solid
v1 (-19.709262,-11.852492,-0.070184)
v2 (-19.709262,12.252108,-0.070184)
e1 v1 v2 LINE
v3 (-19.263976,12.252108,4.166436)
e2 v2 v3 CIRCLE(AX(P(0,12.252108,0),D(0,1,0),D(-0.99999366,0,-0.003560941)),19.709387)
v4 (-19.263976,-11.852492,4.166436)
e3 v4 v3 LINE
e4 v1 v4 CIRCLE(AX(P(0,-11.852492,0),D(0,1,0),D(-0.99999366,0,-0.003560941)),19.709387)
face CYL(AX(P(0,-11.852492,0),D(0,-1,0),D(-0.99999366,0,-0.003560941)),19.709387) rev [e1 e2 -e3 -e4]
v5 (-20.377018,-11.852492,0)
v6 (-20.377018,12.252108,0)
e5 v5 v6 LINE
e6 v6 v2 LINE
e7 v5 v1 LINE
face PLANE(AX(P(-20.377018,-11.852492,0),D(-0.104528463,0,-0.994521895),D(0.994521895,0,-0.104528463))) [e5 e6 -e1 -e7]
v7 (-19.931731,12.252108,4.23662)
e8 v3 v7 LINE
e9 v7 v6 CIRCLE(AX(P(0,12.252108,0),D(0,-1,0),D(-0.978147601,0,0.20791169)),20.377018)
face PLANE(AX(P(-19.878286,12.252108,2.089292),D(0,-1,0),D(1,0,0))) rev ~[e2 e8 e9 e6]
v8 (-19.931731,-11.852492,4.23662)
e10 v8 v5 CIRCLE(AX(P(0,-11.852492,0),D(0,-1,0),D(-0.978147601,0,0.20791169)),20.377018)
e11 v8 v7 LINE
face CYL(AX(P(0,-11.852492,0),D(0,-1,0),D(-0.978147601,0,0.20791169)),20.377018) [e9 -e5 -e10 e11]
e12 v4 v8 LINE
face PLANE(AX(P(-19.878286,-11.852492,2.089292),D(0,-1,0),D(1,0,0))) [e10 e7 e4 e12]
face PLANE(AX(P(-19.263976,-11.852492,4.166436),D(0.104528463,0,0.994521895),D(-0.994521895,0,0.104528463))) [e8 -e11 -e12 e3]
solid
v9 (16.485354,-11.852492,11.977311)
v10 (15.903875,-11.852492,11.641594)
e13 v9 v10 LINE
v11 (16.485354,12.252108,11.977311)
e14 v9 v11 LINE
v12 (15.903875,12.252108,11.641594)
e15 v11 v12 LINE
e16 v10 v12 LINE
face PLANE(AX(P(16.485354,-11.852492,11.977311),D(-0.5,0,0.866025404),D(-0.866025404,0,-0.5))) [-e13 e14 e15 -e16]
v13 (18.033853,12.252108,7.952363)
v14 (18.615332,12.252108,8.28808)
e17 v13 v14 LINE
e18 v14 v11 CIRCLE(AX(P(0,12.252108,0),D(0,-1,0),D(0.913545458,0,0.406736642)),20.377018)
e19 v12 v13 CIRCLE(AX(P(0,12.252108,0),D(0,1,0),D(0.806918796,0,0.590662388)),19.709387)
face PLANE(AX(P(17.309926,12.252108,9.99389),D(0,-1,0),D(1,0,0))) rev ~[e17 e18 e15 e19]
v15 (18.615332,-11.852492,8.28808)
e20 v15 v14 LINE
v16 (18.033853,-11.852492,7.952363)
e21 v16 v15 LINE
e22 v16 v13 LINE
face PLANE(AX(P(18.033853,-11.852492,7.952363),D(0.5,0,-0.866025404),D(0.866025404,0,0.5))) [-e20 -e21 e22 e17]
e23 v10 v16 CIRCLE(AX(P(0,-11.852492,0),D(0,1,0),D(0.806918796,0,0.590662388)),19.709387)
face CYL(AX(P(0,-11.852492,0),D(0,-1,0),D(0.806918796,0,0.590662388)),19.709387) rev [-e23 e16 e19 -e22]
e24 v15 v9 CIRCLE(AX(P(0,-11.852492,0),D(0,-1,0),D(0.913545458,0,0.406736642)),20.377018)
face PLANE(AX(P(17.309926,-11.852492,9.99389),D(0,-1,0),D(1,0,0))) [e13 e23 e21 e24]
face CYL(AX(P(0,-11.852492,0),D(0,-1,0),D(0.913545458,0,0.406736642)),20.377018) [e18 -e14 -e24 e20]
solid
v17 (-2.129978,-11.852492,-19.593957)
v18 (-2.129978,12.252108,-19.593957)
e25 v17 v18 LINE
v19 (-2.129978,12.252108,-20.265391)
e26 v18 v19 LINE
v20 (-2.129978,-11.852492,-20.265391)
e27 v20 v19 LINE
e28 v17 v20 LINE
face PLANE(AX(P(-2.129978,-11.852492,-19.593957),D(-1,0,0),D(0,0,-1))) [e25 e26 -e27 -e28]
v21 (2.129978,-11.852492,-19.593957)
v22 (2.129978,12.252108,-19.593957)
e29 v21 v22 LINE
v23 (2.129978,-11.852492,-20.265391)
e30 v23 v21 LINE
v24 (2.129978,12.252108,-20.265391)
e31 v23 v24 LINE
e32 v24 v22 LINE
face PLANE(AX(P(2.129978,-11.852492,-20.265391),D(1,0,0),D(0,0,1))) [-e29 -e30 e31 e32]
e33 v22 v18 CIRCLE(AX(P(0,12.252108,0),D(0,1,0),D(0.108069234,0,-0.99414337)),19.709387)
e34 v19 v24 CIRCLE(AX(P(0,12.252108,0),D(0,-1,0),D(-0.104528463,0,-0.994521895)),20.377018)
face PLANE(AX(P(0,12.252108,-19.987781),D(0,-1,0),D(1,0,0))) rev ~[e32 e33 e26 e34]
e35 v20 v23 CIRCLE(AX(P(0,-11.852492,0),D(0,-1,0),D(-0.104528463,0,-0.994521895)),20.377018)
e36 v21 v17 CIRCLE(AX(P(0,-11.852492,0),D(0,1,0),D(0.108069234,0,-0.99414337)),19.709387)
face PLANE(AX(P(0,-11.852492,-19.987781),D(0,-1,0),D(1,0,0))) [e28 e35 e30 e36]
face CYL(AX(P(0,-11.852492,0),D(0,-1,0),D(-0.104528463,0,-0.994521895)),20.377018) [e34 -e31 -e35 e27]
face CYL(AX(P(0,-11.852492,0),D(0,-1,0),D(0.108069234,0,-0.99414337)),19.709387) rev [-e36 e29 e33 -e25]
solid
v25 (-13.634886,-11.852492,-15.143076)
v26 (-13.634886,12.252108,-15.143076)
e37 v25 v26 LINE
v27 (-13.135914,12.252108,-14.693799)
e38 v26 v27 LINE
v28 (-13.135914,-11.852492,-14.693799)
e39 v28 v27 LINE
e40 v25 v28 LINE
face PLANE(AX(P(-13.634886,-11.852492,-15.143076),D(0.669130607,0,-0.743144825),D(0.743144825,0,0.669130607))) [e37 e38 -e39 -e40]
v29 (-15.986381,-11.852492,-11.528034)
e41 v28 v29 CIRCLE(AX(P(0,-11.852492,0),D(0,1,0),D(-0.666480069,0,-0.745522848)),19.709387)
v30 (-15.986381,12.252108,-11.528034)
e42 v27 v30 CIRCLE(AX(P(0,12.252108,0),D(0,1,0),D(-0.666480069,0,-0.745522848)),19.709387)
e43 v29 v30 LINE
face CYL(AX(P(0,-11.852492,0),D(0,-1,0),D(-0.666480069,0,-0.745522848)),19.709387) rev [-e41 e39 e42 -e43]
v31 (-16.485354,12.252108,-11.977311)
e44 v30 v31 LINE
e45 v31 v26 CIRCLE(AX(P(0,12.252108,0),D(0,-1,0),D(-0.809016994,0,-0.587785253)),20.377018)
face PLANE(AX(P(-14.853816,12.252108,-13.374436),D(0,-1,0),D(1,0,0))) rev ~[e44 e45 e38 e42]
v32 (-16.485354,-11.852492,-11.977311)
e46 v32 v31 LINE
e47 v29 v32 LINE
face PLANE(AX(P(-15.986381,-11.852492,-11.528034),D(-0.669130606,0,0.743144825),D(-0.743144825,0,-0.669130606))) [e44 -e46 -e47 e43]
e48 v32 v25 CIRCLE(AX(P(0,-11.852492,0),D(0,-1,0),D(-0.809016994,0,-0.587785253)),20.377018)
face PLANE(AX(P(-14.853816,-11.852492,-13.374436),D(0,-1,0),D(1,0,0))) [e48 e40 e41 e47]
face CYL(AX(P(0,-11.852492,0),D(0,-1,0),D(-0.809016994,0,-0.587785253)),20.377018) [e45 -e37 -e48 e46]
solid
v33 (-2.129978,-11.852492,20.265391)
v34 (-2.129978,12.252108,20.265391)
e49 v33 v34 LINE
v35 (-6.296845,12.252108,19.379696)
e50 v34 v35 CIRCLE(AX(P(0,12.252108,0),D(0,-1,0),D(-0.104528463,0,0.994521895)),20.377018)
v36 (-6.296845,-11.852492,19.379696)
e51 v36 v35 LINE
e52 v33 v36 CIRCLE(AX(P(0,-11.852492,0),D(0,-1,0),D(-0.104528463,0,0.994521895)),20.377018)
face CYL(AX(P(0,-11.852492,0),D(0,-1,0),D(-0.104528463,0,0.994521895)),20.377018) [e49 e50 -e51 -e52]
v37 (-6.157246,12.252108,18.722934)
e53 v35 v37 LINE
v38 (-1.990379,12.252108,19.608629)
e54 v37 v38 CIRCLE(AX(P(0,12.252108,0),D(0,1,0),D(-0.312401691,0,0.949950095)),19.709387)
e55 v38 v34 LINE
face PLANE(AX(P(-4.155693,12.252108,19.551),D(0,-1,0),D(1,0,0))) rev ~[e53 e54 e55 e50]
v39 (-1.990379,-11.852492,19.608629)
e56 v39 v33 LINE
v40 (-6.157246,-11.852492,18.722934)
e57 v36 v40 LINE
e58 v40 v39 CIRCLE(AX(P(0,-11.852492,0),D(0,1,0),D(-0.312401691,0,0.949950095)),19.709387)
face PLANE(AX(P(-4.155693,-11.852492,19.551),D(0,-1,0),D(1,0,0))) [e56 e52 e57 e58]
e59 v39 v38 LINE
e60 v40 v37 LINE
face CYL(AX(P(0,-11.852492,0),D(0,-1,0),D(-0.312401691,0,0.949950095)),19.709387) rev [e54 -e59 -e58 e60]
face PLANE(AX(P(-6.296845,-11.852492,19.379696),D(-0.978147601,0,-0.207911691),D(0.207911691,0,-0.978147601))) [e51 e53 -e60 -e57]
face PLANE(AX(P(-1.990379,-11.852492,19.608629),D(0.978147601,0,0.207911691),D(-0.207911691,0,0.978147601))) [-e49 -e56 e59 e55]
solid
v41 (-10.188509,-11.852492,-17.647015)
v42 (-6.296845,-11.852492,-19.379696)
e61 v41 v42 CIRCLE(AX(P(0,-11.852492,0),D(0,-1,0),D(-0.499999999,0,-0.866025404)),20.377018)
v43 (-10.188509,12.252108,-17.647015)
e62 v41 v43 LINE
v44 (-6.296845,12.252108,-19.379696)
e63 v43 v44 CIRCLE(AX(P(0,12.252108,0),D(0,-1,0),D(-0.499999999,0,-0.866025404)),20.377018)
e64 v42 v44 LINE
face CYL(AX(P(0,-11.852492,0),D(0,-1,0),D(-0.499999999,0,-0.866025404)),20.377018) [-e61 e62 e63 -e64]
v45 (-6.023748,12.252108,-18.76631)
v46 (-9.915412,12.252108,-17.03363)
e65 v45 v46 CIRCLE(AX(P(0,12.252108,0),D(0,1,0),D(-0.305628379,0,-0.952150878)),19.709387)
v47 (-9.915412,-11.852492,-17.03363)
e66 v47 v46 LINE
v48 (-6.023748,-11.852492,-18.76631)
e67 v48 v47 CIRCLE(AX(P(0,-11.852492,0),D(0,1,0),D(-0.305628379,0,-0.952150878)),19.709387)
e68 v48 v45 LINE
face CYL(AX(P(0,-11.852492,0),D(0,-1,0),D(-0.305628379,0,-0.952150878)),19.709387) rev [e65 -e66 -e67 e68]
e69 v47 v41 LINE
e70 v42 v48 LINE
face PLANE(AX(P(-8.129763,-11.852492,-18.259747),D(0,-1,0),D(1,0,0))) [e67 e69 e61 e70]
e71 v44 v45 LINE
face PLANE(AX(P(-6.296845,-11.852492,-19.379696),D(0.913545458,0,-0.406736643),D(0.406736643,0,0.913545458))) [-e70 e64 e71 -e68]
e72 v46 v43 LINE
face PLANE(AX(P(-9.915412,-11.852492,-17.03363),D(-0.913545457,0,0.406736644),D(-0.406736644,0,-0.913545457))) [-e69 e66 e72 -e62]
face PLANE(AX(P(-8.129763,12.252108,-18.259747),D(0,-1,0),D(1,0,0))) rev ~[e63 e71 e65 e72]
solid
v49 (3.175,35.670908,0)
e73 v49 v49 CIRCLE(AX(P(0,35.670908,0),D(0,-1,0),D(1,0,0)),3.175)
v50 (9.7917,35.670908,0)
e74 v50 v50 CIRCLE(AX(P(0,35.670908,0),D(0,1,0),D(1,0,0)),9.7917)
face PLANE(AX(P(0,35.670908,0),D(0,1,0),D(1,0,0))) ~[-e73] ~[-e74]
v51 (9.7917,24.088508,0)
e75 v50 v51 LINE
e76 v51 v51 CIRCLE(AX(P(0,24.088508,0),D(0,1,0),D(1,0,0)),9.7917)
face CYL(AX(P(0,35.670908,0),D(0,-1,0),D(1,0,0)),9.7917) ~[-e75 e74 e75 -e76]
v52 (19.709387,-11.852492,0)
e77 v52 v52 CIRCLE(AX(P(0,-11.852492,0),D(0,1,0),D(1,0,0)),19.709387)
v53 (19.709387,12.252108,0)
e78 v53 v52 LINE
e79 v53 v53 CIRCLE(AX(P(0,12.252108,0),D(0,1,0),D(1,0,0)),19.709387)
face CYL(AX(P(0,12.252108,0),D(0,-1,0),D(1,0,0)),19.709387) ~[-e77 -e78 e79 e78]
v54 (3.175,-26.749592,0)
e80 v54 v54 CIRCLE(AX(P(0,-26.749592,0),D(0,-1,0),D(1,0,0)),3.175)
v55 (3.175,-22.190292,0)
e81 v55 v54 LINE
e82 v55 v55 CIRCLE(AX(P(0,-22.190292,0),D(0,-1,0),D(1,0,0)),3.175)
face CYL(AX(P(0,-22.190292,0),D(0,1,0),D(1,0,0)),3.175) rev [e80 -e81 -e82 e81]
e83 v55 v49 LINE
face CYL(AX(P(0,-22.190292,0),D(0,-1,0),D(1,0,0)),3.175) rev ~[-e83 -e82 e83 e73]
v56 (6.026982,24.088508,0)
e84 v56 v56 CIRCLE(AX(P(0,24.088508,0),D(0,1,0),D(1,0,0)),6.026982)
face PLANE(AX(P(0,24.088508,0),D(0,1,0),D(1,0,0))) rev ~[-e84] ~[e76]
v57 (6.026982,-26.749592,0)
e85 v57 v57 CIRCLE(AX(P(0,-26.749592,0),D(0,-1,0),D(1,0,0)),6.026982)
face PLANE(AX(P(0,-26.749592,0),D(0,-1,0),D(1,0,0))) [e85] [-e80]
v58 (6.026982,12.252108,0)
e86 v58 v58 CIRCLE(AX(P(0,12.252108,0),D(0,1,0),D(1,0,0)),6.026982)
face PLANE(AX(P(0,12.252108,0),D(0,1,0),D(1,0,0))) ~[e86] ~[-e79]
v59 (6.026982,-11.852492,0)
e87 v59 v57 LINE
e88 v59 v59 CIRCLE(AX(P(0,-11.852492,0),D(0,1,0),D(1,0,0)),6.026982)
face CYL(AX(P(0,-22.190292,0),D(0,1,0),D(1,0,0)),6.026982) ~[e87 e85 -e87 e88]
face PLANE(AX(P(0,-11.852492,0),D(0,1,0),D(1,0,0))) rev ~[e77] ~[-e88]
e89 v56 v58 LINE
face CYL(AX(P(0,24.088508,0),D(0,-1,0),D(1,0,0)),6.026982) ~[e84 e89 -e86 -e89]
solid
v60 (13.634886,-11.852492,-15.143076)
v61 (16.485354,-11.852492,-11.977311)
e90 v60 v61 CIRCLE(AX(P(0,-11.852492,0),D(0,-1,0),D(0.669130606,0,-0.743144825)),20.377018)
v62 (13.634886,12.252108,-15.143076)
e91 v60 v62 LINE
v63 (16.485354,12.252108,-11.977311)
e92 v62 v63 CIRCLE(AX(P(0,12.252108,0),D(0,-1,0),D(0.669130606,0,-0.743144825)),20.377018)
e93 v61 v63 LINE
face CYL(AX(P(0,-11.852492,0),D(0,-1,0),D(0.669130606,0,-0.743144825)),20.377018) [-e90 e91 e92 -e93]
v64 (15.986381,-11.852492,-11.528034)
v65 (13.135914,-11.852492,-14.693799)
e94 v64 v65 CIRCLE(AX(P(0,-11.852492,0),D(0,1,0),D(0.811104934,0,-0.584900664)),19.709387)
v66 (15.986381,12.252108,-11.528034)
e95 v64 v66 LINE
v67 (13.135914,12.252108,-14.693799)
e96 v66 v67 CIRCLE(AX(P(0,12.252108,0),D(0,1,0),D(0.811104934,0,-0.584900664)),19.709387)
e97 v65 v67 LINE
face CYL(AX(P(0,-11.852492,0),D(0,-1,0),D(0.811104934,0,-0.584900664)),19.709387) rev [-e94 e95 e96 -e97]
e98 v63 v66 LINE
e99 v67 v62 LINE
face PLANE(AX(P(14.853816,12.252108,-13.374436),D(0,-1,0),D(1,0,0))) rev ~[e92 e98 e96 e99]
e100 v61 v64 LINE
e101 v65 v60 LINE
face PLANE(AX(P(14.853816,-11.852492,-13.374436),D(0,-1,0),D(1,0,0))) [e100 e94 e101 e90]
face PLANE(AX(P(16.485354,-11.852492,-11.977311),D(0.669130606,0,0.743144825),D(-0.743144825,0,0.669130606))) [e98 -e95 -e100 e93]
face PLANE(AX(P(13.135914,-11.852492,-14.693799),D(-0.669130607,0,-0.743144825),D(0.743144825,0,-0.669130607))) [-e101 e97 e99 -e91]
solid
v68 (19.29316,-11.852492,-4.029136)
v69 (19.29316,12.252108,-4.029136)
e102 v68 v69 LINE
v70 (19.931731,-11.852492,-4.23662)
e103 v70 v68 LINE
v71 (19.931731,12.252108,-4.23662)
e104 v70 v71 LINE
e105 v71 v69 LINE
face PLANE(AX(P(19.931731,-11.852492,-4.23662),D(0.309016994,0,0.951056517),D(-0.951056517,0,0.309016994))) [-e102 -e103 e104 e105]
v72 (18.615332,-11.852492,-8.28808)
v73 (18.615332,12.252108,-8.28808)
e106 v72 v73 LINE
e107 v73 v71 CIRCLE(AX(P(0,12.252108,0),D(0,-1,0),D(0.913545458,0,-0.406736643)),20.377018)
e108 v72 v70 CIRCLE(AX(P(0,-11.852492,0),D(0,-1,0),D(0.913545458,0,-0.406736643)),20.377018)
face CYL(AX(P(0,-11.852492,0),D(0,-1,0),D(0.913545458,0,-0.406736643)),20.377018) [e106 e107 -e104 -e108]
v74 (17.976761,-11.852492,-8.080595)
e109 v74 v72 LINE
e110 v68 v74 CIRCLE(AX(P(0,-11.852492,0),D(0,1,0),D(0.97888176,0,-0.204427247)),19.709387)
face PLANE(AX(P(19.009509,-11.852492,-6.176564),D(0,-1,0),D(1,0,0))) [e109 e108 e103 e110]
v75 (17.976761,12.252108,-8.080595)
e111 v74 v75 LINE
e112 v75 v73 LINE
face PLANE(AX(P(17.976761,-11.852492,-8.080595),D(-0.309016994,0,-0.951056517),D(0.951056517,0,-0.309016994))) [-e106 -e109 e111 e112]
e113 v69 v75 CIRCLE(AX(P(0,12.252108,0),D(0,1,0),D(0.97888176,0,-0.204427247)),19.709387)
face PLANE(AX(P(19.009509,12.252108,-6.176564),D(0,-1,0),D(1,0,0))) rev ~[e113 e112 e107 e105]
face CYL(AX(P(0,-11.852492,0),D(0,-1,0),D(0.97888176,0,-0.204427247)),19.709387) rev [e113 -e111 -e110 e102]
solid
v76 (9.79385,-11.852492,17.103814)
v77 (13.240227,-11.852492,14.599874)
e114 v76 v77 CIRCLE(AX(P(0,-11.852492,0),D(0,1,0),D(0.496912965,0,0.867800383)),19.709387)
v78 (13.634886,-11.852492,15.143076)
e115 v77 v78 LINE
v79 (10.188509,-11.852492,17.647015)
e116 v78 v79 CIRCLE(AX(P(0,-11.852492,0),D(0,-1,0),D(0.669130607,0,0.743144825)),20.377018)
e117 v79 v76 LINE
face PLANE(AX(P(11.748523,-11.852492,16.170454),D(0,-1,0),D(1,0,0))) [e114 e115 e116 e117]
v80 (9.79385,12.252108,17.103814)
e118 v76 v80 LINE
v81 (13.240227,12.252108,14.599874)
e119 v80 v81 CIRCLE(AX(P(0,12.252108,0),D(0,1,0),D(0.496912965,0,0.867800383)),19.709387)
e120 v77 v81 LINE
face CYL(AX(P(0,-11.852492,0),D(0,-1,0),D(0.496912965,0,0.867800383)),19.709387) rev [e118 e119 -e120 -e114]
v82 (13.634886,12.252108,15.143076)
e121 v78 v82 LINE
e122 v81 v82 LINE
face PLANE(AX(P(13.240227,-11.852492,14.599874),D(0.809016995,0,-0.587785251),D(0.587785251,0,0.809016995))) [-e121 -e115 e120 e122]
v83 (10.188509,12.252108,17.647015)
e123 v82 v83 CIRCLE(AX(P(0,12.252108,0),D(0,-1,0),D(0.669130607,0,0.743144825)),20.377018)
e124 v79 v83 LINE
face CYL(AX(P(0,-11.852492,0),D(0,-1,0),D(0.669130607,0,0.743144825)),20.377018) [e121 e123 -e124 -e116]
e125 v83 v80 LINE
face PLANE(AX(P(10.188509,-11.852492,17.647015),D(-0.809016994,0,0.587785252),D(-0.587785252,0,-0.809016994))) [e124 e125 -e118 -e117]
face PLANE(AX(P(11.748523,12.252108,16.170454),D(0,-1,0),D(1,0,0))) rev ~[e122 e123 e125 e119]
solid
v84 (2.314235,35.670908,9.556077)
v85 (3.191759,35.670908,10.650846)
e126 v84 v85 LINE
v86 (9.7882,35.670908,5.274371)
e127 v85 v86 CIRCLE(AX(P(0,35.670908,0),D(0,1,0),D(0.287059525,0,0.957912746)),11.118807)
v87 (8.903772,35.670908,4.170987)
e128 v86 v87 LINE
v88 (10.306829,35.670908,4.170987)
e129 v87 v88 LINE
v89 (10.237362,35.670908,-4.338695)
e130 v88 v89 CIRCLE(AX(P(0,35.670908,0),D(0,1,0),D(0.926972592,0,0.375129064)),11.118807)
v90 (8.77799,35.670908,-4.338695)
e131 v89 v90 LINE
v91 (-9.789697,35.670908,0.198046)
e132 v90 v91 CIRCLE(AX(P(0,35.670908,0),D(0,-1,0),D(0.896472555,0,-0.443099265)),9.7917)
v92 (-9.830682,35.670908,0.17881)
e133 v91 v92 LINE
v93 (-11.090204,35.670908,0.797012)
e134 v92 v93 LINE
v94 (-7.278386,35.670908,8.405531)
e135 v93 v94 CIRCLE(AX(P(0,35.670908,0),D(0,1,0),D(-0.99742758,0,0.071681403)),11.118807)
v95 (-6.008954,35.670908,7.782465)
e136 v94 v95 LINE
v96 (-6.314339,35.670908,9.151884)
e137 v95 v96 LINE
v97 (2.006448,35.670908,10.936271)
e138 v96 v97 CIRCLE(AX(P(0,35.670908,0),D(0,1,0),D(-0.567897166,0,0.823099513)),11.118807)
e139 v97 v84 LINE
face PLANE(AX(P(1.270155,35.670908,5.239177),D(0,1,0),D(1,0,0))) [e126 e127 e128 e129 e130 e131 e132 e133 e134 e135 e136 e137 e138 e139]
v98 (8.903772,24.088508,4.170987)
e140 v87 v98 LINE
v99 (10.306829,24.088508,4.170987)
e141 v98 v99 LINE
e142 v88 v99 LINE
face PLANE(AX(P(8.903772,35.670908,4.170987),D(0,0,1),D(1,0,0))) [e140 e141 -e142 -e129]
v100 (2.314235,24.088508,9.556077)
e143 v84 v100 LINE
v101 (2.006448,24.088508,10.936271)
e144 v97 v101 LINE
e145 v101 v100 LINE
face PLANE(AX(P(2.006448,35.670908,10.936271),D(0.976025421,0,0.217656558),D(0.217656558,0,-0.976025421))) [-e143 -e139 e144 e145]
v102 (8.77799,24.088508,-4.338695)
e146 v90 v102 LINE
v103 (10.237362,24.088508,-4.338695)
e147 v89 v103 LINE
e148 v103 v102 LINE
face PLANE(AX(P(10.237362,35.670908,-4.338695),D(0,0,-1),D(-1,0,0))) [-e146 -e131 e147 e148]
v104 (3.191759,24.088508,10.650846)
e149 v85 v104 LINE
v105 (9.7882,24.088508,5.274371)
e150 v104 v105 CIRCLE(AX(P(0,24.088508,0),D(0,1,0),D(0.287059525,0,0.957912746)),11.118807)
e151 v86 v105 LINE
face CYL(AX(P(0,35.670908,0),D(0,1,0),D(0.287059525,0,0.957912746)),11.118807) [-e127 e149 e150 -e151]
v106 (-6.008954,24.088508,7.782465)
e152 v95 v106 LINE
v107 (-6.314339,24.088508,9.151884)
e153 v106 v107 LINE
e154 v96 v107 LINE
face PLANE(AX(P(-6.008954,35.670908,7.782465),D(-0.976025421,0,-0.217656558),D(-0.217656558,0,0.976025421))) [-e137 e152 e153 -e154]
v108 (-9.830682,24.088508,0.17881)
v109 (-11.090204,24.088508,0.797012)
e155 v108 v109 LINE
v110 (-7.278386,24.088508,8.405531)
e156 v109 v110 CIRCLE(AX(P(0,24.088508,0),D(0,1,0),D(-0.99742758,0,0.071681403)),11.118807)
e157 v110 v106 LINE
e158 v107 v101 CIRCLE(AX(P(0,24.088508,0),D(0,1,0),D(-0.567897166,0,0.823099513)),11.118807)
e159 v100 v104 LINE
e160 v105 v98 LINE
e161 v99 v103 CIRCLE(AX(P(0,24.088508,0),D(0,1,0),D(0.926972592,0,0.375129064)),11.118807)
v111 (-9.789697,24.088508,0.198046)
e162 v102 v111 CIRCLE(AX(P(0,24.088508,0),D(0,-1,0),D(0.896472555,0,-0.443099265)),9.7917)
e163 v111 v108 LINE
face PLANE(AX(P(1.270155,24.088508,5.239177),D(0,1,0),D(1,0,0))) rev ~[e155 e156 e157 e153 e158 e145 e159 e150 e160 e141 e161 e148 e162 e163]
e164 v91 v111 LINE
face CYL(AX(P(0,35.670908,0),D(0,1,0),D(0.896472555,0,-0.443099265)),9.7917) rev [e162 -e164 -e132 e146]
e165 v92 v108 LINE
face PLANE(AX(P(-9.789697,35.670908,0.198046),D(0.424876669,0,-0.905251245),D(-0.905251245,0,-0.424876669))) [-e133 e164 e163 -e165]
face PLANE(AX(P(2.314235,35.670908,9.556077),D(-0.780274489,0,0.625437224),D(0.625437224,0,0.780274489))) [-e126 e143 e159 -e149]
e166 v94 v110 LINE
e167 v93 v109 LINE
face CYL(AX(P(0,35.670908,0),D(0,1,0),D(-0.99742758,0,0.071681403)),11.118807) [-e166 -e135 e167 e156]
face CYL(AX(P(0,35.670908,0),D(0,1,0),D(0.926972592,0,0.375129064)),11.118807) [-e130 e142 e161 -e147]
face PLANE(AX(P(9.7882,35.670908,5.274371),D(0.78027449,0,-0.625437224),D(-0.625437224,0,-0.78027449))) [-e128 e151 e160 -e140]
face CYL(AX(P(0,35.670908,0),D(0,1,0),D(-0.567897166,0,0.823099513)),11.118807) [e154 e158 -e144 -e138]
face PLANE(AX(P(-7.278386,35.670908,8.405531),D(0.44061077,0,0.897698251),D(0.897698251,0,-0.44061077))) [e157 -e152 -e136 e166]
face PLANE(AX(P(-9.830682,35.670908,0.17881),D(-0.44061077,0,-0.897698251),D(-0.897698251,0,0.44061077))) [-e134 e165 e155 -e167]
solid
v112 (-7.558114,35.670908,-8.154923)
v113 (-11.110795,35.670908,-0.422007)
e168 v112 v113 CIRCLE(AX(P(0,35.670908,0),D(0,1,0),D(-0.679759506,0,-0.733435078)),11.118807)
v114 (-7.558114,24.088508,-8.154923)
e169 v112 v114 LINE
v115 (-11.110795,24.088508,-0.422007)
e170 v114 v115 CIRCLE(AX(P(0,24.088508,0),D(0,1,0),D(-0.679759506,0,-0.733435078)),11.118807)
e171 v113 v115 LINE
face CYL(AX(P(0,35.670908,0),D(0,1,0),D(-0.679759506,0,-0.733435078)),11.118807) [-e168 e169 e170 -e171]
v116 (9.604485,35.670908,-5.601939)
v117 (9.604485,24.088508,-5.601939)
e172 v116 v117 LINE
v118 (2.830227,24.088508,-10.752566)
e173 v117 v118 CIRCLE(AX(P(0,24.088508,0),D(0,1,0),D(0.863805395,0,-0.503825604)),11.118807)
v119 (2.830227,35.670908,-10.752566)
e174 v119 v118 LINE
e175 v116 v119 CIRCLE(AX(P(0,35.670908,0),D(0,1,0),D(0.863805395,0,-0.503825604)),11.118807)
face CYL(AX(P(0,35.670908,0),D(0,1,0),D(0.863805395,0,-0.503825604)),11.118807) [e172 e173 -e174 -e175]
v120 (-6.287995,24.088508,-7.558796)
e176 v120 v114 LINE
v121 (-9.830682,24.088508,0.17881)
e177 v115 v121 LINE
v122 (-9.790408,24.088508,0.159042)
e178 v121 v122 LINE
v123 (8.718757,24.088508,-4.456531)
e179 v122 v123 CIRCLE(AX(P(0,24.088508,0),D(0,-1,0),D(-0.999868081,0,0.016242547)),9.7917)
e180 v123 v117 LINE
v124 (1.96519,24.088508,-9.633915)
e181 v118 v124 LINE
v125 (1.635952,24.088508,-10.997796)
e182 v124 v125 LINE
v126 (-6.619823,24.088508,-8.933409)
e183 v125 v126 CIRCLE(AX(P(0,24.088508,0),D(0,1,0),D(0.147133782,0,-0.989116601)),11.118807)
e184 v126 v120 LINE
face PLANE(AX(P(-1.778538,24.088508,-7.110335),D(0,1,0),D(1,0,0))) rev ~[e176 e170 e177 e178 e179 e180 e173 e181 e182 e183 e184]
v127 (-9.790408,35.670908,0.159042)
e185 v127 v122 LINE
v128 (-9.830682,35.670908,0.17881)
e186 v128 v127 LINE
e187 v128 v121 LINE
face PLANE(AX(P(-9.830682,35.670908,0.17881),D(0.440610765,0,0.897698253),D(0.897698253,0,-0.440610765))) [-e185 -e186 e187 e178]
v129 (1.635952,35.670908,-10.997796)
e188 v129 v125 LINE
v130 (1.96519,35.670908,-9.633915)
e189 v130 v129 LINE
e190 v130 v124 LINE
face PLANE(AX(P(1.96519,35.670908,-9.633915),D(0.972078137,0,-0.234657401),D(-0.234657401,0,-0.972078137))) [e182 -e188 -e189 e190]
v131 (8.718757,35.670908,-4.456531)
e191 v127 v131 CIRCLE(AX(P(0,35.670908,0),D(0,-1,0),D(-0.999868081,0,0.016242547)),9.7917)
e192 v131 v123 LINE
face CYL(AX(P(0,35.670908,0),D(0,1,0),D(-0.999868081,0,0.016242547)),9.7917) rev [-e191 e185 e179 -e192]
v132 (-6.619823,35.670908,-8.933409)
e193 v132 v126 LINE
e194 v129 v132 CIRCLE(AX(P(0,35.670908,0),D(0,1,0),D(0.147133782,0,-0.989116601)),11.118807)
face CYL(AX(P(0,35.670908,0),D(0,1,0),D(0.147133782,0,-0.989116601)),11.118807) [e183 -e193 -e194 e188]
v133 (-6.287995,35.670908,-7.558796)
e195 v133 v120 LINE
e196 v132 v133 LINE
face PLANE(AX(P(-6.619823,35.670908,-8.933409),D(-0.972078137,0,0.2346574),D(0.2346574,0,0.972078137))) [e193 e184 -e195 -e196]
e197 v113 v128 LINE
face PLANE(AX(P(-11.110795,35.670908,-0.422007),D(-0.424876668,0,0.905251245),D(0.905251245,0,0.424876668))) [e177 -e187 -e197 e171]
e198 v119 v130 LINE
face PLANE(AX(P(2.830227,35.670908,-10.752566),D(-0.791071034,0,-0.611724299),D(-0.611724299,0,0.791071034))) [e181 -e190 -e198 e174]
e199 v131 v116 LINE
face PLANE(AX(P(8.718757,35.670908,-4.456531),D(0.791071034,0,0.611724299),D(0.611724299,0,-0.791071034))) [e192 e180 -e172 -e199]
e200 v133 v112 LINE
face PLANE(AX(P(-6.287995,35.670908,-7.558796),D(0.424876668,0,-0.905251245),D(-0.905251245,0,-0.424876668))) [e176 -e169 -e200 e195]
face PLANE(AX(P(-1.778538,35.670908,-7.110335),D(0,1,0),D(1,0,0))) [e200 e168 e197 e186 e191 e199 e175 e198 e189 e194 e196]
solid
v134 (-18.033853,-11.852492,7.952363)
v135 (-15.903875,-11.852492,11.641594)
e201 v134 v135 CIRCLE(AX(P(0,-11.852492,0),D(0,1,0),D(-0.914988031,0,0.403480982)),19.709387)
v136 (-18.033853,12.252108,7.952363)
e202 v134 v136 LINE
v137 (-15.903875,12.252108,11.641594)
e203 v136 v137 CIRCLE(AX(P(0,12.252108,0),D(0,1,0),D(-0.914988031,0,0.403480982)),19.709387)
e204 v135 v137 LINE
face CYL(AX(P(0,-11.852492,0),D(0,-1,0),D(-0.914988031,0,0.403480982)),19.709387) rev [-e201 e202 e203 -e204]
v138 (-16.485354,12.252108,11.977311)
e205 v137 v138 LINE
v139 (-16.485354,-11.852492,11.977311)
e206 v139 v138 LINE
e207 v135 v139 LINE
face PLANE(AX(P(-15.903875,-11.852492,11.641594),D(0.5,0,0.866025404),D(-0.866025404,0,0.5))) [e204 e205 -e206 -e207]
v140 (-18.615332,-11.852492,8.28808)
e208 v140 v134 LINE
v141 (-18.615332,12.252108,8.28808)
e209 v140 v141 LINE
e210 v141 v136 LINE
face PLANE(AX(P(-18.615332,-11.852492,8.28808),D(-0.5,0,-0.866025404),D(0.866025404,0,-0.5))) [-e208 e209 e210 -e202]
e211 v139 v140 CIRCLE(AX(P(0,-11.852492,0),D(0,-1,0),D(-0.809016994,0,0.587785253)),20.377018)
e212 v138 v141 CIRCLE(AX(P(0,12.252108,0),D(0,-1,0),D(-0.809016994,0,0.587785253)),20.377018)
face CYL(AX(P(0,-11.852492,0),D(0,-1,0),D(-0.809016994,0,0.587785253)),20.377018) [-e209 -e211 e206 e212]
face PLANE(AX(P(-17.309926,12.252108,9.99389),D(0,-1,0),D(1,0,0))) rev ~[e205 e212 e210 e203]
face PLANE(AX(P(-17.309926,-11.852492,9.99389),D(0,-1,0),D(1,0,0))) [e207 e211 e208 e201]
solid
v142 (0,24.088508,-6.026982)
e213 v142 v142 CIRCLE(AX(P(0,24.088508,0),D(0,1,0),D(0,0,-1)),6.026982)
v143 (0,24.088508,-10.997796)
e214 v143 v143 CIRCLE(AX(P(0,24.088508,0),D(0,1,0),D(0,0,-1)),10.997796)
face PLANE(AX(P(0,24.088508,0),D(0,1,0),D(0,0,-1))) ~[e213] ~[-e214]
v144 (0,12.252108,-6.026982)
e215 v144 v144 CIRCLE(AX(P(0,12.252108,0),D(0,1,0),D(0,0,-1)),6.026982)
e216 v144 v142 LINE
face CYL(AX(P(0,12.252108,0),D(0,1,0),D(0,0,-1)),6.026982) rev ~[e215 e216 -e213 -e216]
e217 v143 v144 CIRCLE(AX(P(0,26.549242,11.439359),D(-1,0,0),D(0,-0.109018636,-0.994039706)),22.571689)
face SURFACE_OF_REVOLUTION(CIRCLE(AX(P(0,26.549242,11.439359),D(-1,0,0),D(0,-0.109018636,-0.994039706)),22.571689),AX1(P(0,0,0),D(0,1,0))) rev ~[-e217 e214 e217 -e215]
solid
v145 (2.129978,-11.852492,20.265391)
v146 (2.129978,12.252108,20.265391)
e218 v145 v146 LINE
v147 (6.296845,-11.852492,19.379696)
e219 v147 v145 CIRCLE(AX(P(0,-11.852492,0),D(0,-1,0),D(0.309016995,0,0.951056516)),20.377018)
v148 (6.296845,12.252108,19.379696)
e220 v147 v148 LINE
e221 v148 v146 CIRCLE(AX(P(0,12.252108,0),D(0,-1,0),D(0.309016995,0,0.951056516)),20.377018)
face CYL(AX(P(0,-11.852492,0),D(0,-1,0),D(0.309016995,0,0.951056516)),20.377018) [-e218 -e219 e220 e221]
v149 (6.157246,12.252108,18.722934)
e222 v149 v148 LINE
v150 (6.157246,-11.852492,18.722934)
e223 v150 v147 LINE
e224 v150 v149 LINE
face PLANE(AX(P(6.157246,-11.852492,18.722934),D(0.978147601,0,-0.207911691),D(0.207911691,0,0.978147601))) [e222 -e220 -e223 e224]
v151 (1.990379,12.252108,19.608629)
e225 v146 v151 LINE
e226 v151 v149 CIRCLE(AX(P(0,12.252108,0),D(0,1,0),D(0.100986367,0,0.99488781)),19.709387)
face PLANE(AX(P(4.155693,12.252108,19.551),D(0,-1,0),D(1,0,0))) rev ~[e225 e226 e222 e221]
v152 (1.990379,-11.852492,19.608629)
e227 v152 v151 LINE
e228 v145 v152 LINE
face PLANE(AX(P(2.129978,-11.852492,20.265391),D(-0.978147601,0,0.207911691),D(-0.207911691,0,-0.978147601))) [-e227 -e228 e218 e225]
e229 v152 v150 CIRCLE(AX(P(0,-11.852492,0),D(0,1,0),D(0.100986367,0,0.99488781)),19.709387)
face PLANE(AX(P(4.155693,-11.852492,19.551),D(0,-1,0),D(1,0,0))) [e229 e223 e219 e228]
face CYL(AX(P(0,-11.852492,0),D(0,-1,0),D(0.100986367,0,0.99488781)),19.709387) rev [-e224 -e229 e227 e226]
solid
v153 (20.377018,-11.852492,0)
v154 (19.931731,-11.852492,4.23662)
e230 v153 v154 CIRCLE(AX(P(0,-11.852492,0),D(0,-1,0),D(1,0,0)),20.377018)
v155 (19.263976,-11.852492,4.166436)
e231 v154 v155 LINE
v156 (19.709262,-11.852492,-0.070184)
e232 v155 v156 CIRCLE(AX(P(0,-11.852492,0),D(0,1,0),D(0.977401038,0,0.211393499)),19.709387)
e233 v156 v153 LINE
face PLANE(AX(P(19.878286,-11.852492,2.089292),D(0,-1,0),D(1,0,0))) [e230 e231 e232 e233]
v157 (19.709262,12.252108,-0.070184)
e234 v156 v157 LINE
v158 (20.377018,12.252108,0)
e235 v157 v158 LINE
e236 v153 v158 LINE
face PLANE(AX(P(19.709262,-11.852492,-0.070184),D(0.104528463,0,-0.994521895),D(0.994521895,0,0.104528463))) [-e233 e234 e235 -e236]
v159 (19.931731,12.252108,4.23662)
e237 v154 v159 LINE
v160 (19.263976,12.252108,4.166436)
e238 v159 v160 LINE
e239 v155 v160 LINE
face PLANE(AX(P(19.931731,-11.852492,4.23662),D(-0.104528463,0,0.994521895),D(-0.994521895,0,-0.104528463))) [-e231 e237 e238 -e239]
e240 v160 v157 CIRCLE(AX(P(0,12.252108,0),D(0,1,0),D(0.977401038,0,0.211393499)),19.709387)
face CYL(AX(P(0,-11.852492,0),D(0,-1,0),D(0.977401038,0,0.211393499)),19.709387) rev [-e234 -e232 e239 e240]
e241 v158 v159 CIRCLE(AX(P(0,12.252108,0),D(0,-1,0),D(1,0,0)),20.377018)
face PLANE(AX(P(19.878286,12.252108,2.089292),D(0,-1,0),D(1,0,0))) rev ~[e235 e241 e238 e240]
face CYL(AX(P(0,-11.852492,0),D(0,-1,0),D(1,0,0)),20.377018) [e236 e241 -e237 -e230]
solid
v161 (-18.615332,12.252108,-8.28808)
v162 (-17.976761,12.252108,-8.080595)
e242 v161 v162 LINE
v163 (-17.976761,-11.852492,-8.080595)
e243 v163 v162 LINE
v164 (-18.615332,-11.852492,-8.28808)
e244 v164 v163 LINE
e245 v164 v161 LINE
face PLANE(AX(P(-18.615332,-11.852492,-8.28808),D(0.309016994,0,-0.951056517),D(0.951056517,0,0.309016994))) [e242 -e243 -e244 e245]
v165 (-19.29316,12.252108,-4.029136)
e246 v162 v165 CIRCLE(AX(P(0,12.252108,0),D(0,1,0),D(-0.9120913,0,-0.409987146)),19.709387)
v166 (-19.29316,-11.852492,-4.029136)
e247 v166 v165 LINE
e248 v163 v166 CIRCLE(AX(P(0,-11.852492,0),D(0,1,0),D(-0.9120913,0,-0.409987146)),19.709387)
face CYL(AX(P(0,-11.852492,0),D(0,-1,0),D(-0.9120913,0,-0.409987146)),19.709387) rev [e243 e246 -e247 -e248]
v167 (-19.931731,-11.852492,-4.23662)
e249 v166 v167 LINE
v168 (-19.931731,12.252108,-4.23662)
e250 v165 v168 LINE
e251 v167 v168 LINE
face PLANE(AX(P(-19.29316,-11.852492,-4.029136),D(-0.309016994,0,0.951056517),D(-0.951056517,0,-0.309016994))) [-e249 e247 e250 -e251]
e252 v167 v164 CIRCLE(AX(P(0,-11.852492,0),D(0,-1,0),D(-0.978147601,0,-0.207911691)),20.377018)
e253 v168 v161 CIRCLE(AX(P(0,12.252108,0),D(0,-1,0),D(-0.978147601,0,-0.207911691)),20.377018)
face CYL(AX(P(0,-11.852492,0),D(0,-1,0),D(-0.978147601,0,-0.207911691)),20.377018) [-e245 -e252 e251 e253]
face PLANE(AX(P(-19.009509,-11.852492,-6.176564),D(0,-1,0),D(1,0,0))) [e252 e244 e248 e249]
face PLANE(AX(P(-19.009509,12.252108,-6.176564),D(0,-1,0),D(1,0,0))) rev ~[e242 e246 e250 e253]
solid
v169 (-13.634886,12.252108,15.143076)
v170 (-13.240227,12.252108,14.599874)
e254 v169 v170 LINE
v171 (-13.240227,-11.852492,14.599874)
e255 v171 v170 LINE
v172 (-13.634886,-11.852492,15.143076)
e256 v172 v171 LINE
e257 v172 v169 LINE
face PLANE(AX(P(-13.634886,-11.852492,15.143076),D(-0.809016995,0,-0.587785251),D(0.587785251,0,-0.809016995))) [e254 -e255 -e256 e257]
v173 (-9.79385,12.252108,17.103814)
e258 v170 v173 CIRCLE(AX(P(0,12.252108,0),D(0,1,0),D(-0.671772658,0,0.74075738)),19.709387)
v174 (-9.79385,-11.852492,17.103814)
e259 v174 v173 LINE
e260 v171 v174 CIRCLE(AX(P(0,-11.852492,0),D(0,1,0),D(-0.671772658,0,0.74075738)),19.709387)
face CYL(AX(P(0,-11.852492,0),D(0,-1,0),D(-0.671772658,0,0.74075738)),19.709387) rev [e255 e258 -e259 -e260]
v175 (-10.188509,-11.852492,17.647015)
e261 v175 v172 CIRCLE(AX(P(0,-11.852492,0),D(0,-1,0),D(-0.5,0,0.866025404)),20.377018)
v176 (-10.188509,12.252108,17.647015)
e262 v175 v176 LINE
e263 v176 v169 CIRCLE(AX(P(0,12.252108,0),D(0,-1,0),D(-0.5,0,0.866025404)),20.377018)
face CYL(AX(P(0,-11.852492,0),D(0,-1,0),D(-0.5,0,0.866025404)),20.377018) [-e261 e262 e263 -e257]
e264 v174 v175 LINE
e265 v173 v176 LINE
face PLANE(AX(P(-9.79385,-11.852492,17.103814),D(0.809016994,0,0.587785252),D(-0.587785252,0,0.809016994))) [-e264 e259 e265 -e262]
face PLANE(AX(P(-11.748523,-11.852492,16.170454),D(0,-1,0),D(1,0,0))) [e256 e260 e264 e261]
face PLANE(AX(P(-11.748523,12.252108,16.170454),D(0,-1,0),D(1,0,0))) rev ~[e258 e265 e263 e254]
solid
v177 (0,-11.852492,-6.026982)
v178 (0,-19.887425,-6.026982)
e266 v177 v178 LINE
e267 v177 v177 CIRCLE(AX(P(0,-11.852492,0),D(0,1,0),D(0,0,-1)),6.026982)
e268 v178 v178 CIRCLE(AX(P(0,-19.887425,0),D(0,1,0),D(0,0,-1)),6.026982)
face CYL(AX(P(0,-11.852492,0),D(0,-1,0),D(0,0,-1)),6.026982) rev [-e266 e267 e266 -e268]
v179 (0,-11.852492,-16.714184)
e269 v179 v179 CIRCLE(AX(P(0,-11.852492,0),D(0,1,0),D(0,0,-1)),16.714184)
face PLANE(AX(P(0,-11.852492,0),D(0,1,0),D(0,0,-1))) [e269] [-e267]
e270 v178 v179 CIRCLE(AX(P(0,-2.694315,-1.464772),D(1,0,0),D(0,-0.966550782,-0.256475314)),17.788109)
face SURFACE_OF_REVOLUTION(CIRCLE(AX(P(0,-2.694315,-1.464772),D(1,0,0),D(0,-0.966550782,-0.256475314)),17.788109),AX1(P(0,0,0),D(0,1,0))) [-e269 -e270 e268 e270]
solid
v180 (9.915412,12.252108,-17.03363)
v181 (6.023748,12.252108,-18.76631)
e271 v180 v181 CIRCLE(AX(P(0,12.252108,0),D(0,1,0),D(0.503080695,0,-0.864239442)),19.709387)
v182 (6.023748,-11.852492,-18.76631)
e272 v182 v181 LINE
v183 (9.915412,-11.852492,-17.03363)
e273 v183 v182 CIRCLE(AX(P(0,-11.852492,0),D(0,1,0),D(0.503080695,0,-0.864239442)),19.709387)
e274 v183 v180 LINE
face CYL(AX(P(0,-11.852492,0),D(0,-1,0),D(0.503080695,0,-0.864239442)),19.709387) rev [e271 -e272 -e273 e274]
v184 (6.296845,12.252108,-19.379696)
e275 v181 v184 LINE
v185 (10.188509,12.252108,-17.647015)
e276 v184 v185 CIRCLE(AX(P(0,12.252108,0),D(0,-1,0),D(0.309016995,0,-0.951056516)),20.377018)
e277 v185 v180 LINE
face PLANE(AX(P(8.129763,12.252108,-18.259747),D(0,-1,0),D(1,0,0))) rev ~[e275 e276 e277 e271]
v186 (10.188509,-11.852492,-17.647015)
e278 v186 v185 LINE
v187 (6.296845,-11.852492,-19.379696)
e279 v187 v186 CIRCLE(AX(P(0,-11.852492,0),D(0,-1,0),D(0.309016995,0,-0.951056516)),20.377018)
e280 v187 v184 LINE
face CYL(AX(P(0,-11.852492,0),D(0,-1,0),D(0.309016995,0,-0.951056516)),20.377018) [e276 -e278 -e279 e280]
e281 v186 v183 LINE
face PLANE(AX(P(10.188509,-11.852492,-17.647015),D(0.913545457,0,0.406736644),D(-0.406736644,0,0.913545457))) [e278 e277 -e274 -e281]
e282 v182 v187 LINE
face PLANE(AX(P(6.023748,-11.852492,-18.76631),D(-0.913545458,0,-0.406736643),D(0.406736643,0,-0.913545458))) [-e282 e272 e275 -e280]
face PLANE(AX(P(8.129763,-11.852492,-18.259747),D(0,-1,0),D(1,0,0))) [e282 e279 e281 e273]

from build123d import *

# Parameters (mm, degrees)
SKETCH2_R               = 3.175
CUT_EXTRUDE1_DEPTH      = 1
CUT_EXTRUDE1_DEPTH_BACK = 58.8612
BOSS_EXTRUDE2_DEPTH     = 24.1046
BOSS_EXTRUDE2_2_DEPTH   = 24.1046
BOSS_EXTRUDE2_3_DEPTH   = 24.1046
BOSS_EXTRUDE2_4_DEPTH   = 24.1046
BOSS_EXTRUDE2_5_DEPTH   = 24.1046
BOSS_EXTRUDE2_6_DEPTH   = 24.1046
BOSS_EXTRUDE2_7_DEPTH   = 24.1046
BOSS_EXTRUDE2_8_DEPTH   = 24.1046
BOSS_EXTRUDE2_9_DEPTH   = 24.1046
BOSS_EXTRUDE2_10_DEPTH  = 24.1046
BOSS_EXTRUDE2_11_DEPTH  = 24.1046
BOSS_EXTRUDE2_12_DEPTH  = 24.1046
BOSS_EXTRUDE2_13_DEPTH  = 24.1046
BOSS_EXTRUDE2_14_DEPTH  = 24.1046
BOSS_EXTRUDE2_15_DEPTH  = 24.1046
BOSS_EXTRUDE4_DEPTH     = 11.5824
BOSS_EXTRUDE4_2_DEPTH   = 11.5824
SKETCH7_R               = 6.02698233
SKETCH7_R_2             = 3.175
BOSS_EXTRUDE5_DEPTH     = 4.5593


with BuildPart() as part:
    # Sketch1 → Revolve1 (revolve)
    with BuildSketch(Plane.XY):
        Polygon((3.398475252, -22.190292446), (0, -22.190292446), (0, 35.670907554), (9.7917, 35.670907554), (9.7917, 24.088507554), (6.02698233, 24.088507554), (6.02698233, 12.252107554), (19.709387233, 12.252107554), (19.709387233, -11.852492446), (6.02698233, -11.852492446), (6.02698233, -22.190292446), align=None)
    revolve(axis=Axis((0, -22.190292446, 0), (0, 1, 0)))

    # Sketch2 → Cut-Extrude1 (cut, two sides)
    with BuildSketch(Plane.XZ.offset(22.190292446)) as cut_extrude1_sk:
        Circle(SKETCH2_R)
    extrude(amount=CUT_EXTRUDE1_DEPTH, mode=Mode.SUBTRACT)
    extrude(cut_extrude1_sk.sketch, amount=-CUT_EXTRUDE1_DEPTH_BACK, mode=Mode.SUBTRACT)

    # Sketch7 → Boss-Extrude5 (add)
    with BuildSketch(Plane.XZ.offset(22.190292446)):
        Circle(SKETCH7_R)
        Circle(SKETCH7_R_2, mode=Mode.SUBTRACT)
    extrude(amount=BOSS_EXTRUDE5_DEPTH)


with BuildPart() as body_2:
    # Sketch3 → Boss-Extrude2 (new body)
    with BuildSketch(Plane.XZ.offset(11.852492446)):
        with BuildLine():
            Line((2.129978383, -20.26539062), (2.129978383, -19.59395665))
            ThreePointArc((2.129978383, -19.59395665), (0, -19.709387233), (-2.129978383, -19.59395665))
            Line((-2.129978383, -19.59395665), (-2.129978383, -20.26539062))
            ThreePointArc((-2.129978383, -20.26539062), (0, -20.377018057), (2.129978383, -20.26539062))
        make_face()
    extrude(amount=-BOSS_EXTRUDE2_DEPTH)


with BuildPart() as body_3:
    # Sketch3 → Boss-Extrude2 2 (new body)
    with BuildSketch(Plane.XZ.offset(11.852492446)):
        with BuildLine():
            Line((-6.296844874, -19.379695806), (-6.023748075, -18.766310352))
            ThreePointArc((-6.023748075, -18.766310352), (-8.01653, -18.00542118), (-9.915412229, -17.033629837))
            Line((-9.915412229, -17.033629837), (-10.188509029, -17.647015291))
            ThreePointArc((-10.188509029, -17.647015291), (-8.28807992, -18.615332286), (-6.296844874, -19.379695806))
        make_face()
    extrude(amount=-BOSS_EXTRUDE2_2_DEPTH)


with BuildPart() as body_4:
    # Sketch3 → Boss-Extrude2 3 (new body)
    with BuildSketch(Plane.XZ.offset(11.852492446)):
        with BuildLine():
            Line((-13.634886448, -15.143075528), (-13.135913768, -14.693798508))
            ThreePointArc((-13.135913768, -14.693798508), (-14.646929136, -13.18815423), (-15.986381222, -11.52803368))
            Line((-15.986381222, -11.52803368), (-16.485353903, -11.9773107))
            ThreePointArc((-16.485353903, -11.9773107), (-15.143075528, -13.634886448), (-13.634886448, -15.143075528))
        make_face()
    extrude(amount=-BOSS_EXTRUDE2_3_DEPTH)


with BuildPart() as body_5:
    # Sketch3 → Boss-Extrude2 4 (new body)
    with BuildSketch(Plane.XZ.offset(11.852492446)):
        with BuildLine():
            Line((-18.615332286, -8.28807992), (-17.976760633, -8.080595413))
            ThreePointArc((-17.976760633, -8.080595413), (-18.74474116, -6.090535604), (-19.29315967, -4.029135771))
            Line((-19.29315967, -4.029135771), (-19.931731323, -4.236620278))
            ThreePointArc((-19.931731323, -4.236620278), (-19.379695806, -6.296844874), (-18.615332286, -8.28807992))
        make_face()
    extrude(amount=-BOSS_EXTRUDE2_4_DEPTH)


with BuildPart() as body_6:
    # Sketch3 → Boss-Extrude2 5 (new body)
    with BuildSketch(Plane.XZ.offset(11.852492446)):
        with BuildLine():
            Line((-20.377018057, 0), (-19.709262272, -0.070183961))
            ThreePointArc((-19.709262272, -0.070183961), (-19.601417148, 2.060191959), (-19.263975538, 4.166436317))
            Line((-19.263975538, 4.166436317), (-19.931731323, 4.236620278))
            ThreePointArc((-19.931731323, 4.236620278), (-20.26539062, 2.129978383), (-20.377018057, 0))
        make_face()
    extrude(amount=-BOSS_EXTRUDE2_5_DEPTH)


with BuildPart() as body_7:
    # Sketch3 → Boss-Extrude2 6 (new body)
    with BuildSketch(Plane.XZ.offset(11.852492446)):
        with BuildLine():
            Line((-18.615332286, 8.28807992), (-18.033853411, 7.952362935))
            ThreePointArc((-18.033853411, 7.952362935), (-17.068830037, 9.854693617), (-15.903875027, 11.641593714))
            Line((-15.903875027, 11.641593714), (-16.485353903, 11.9773107))
            ThreePointArc((-16.485353903, 11.9773107), (-17.647015291, 10.188509029), (-18.615332286, 8.28807992))
        make_face()
    extrude(amount=-BOSS_EXTRUDE2_6_DEPTH)


with BuildPart() as body_8:
    # Sketch3 → Boss-Extrude2 7 (new body)
    with BuildSketch(Plane.XZ.offset(11.852492446)):
        with BuildLine():
            Line((-13.634886448, 15.143075528), (-13.240227463, 14.599874035))
            ThreePointArc((-13.240227463, 14.599874035), (-11.584887147, 15.94522922), (-9.793850043, 17.103813798))
            Line((-9.793850043, 17.103813798), (-10.188509029, 17.647015291))
            ThreePointArc((-10.188509029, 17.647015291), (-11.9773107, 16.485353903), (-13.634886448, 15.143075528))
        make_face()
    extrude(amount=-BOSS_EXTRUDE2_7_DEPTH)


with BuildPart() as body_9:
    # Sketch3 → Boss-Extrude2 8 (new body)
    with BuildSketch(Plane.XZ.offset(11.852492446)):
        with BuildLine():
            Line((-6.296844874, 19.379695806), (-6.157245902, 18.722934279))
            ThreePointArc((-6.157245902, 18.722934279), (-4.097812025, 19.278689834), (-1.990379411, 19.608629093))
            Line((-1.990379411, 19.608629093), (-2.129978383, 20.26539062))
            ThreePointArc((-2.129978383, 20.26539062), (-4.236620278, 19.931731323), (-6.296844874, 19.379695806))
        make_face()
    extrude(amount=-BOSS_EXTRUDE2_8_DEPTH)


with BuildPart() as body_10:
    # Sketch3 → Boss-Extrude2 9 (new body)
    with BuildSketch(Plane.XZ.offset(11.852492446)):
        with BuildLine():
            Line((2.129978383, 20.26539062), (1.990379411, 19.608629093))
            ThreePointArc((1.990379411, 19.608629093), (4.097812025, 19.278689834), (6.157245902, 18.722934279))
            Line((6.157245902, 18.722934279), (6.296844874, 19.379695806))
            ThreePointArc((6.296844874, 19.379695806), (4.236620278, 19.931731323), (2.129978383, 20.26539062))
        make_face()
    extrude(amount=-BOSS_EXTRUDE2_9_DEPTH)


with BuildPart() as body_11:
    # Sketch3 → Boss-Extrude2 10 (new body)
    with BuildSketch(Plane.XZ.offset(11.852492446)):
        with BuildLine():
            Line((10.188509029, 17.647015291), (9.793850043, 17.103813798))
            ThreePointArc((9.793850043, 17.103813798), (11.584887147, 15.94522922), (13.240227463, 14.599874035))
            Line((13.240227463, 14.599874035), (13.634886448, 15.143075528))
            ThreePointArc((13.634886448, 15.143075528), (11.9773107, 16.485353903), (10.188509029, 17.647015291))
        make_face()
    extrude(amount=-BOSS_EXTRUDE2_10_DEPTH)


with BuildPart() as body_12:
    # Sketch3 → Boss-Extrude2 11 (new body)
    with BuildSketch(Plane.XZ.offset(11.852492446)):
        with BuildLine():
            Line((16.485353903, 11.9773107), (15.903875027, 11.641593714))
            ThreePointArc((15.903875027, 11.641593714), (17.068830037, 9.854693617), (18.033853411, 7.952362935))
            Line((18.033853411, 7.952362935), (18.615332286, 8.28807992))
            ThreePointArc((18.615332286, 8.28807992), (17.647015291, 10.188509029), (16.485353903, 11.9773107))
        make_face()
    extrude(amount=-BOSS_EXTRUDE2_11_DEPTH)


with BuildPart() as body_13:
    # Sketch3 → Boss-Extrude2 12 (new body)
    with BuildSketch(Plane.XZ.offset(11.852492446)):
        with BuildLine():
            Line((19.931731323, 4.236620278), (19.263975538, 4.166436317))
            ThreePointArc((19.263975538, 4.166436317), (19.601417148, 2.060191959), (19.709262272, -0.070183961))
            Line((19.709262272, -0.070183961), (20.377018057, 0))
            ThreePointArc((20.377018057, 0), (20.26539062, 2.129978383), (19.931731323, 4.236620278))
        make_face()
    extrude(amount=-BOSS_EXTRUDE2_12_DEPTH)


with BuildPart() as body_14:
    # Sketch3 → Boss-Extrude2 13 (new body)
    with BuildSketch(Plane.XZ.offset(11.852492446)):
        with BuildLine():
            Line((19.931731323, -4.236620278), (19.29315967, -4.029135771))
            ThreePointArc((19.29315967, -4.029135771), (18.74474116, -6.090535604), (17.976760633, -8.080595413))
            Line((17.976760633, -8.080595413), (18.615332286, -8.28807992))
            ThreePointArc((18.615332286, -8.28807992), (19.379695806, -6.296844874), (19.931731323, -4.236620278))
        make_face()
    extrude(amount=-BOSS_EXTRUDE2_13_DEPTH)


with BuildPart() as body_15:
    # Sketch3 → Boss-Extrude2 14 (new body)
    with BuildSketch(Plane.XZ.offset(11.852492446)):
        with BuildLine():
            Line((16.485353903, -11.9773107), (15.986381222, -11.52803368))
            ThreePointArc((15.986381222, -11.52803368), (14.646929136, -13.18815423), (13.135913768, -14.693798508))
            Line((13.135913768, -14.693798508), (13.634886448, -15.143075528))
            ThreePointArc((13.634886448, -15.143075528), (15.143075528, -13.634886448), (16.485353903, -11.9773107))
        make_face()
    extrude(amount=-BOSS_EXTRUDE2_14_DEPTH)


with BuildPart() as body_16:
    # Sketch3 → Boss-Extrude2 15 (new body)
    with BuildSketch(Plane.XZ.offset(11.852492446)):
        with BuildLine():
            Line((10.188509029, -17.647015291), (9.915412229, -17.033629837))
            ThreePointArc((9.915412229, -17.033629837), (8.01653, -18.00542118), (6.023748075, -18.766310352))
            Line((6.023748075, -18.766310352), (6.296844874, -19.379695806))
            ThreePointArc((6.296844874, -19.379695806), (8.28807992, -18.615332286), (10.188509029, -17.647015291))
        make_face()
    extrude(amount=-BOSS_EXTRUDE2_15_DEPTH)


with BuildPart() as body_17:
    # Sketch4 → Boss-Extrude4 (new body)
    with BuildSketch(Plane(origin=(0, 35.670907554, 0), x_dir=(1, 0, 0), z_dir=(0, 1, 0))):
        with BuildLine():
            Line((10.237362125, 4.338695071), (8.777990315, 4.338695071))
            ThreePointArc((8.777990315, 4.338695071), (2.324089523, -9.51188713), (-9.789696969, -0.19804584))
            Line((-9.789696969, -0.19804584), (-9.830682257, -0.178809531))
            Line((-9.830682257, -0.178809531), (-11.090204264, -0.79701165))
            ThreePointArc((-11.090204264, -0.79701165), (-9.941009577, -4.980380184), (-7.278386297, -8.405530982))
            Line((-7.278386297, -8.405530982), (-6.008954103, -7.782464717))
            Line((-6.008954103, -7.782464717), (-6.314338707, -9.151884226))
            ThreePointArc((-6.314338707, -9.151884226), (-2.331413825, -10.87163133), (2.006447678, -10.936271115))
            Line((2.006447678, -10.936271115), (2.314235113, -9.556076723))
            Line((2.314235113, -9.556076723), (3.191759322, -10.650846474))
            ThreePointArc((3.191759322, -10.650846474), (7.024703597, -8.618665649), (9.788200428, -5.274371107))
            Line((9.788200428, -5.274371107), (8.903771672, -4.170987474))
            Line((8.903771672, -4.170987474), (10.306828886, -4.170987474))
            ThreePointArc((10.306828886, -4.170987474), (11.118436056, 0.090762698), (10.237362125, 4.338695071))
        make_face()
    extrude(amount=-BOSS_EXTRUDE4_DEPTH)


with BuildPart() as body_18:
    # Sketch4 → Boss-Extrude4 2 (new body)
    with BuildSketch(Plane(origin=(0, 35.670907554, 0), x_dir=(1, 0, 0), z_dir=(0, 1, 0))):
        with BuildLine():
            Line((8.718756713, 4.456531193), (9.604485053, 5.601939402))
            ThreePointArc((9.604485053, 5.601939402), (6.729617762, 8.850994462), (2.830227172, 10.752565849))
            Line((2.830227172, 10.752565849), (1.965189818, 9.633914857))
            Line((1.965189818, 9.633914857), (1.635952059, 10.9977961))
            ThreePointArc((1.635952059, 10.9977961), (-2.697251736, 10.786690468), (-6.619823405, 8.933408995))
            Line((-6.619823405, 8.933408995), (-6.287995134, 7.558796444))
            Line((-6.287995134, 7.558796444), (-7.558114424, 8.154922718))
            ThreePointArc((-7.558114424, 8.154922718), (-10.103541037, 4.641801018), (-11.110795116, 0.422007192))
            Line((-11.110795116, 0.422007192), (-9.830682257, -0.178809531))
            Line((-9.830682257, -0.178809531), (-9.79040829, -0.15904215))
            ThreePointArc((-9.79040829, -0.15904215), (-2.369174665, 9.50075788), (8.718756713, 4.456531193))
        make_face()
    extrude(amount=-BOSS_EXTRUDE4_2_DEPTH)


with BuildPart() as body_19:
    # Sketch6 → Revolve7 (revolve)
    with BuildSketch(Plane(origin=(0, 0, 0), x_dir=(0, 0, -1), z_dir=(1, 0, 0))):
        with BuildLine():
            ThreePointArc((10.9977961, 24.088507554), (9.371632058, 17.809459986), (6.02698233, 12.252107554))
            Line((6.02698233, 12.252107554), (6.02698233, 24.088507554))
            Line((6.02698233, 24.088507554), (10.9977961, 24.088507554))
        make_face()
        with BuildLine():
            Line((6.02698233, -11.852492446), (6.02698233, -19.887424982))
            ThreePointArc((6.02698233, -19.887424982), (12.15425901, -16.91231972), (16.714184315, -11.852492446))
            Line((16.714184315, -11.852492446), (6.02698233, -11.852492446))
        make_face()
    revolve(axis=Axis((0, 0, 0), (0, 1, 0)))


solid = Compound([part.part, body_2.part, body_3.part, body_4.part, body_5.part, body_6.part, body_7.part, body_8.part, body_9.part, body_10.part, body_11.part, body_12.part, body_13.part, body_14.part, body_15.part, body_16.part, body_17.part, body_18.part, body_19.part])
